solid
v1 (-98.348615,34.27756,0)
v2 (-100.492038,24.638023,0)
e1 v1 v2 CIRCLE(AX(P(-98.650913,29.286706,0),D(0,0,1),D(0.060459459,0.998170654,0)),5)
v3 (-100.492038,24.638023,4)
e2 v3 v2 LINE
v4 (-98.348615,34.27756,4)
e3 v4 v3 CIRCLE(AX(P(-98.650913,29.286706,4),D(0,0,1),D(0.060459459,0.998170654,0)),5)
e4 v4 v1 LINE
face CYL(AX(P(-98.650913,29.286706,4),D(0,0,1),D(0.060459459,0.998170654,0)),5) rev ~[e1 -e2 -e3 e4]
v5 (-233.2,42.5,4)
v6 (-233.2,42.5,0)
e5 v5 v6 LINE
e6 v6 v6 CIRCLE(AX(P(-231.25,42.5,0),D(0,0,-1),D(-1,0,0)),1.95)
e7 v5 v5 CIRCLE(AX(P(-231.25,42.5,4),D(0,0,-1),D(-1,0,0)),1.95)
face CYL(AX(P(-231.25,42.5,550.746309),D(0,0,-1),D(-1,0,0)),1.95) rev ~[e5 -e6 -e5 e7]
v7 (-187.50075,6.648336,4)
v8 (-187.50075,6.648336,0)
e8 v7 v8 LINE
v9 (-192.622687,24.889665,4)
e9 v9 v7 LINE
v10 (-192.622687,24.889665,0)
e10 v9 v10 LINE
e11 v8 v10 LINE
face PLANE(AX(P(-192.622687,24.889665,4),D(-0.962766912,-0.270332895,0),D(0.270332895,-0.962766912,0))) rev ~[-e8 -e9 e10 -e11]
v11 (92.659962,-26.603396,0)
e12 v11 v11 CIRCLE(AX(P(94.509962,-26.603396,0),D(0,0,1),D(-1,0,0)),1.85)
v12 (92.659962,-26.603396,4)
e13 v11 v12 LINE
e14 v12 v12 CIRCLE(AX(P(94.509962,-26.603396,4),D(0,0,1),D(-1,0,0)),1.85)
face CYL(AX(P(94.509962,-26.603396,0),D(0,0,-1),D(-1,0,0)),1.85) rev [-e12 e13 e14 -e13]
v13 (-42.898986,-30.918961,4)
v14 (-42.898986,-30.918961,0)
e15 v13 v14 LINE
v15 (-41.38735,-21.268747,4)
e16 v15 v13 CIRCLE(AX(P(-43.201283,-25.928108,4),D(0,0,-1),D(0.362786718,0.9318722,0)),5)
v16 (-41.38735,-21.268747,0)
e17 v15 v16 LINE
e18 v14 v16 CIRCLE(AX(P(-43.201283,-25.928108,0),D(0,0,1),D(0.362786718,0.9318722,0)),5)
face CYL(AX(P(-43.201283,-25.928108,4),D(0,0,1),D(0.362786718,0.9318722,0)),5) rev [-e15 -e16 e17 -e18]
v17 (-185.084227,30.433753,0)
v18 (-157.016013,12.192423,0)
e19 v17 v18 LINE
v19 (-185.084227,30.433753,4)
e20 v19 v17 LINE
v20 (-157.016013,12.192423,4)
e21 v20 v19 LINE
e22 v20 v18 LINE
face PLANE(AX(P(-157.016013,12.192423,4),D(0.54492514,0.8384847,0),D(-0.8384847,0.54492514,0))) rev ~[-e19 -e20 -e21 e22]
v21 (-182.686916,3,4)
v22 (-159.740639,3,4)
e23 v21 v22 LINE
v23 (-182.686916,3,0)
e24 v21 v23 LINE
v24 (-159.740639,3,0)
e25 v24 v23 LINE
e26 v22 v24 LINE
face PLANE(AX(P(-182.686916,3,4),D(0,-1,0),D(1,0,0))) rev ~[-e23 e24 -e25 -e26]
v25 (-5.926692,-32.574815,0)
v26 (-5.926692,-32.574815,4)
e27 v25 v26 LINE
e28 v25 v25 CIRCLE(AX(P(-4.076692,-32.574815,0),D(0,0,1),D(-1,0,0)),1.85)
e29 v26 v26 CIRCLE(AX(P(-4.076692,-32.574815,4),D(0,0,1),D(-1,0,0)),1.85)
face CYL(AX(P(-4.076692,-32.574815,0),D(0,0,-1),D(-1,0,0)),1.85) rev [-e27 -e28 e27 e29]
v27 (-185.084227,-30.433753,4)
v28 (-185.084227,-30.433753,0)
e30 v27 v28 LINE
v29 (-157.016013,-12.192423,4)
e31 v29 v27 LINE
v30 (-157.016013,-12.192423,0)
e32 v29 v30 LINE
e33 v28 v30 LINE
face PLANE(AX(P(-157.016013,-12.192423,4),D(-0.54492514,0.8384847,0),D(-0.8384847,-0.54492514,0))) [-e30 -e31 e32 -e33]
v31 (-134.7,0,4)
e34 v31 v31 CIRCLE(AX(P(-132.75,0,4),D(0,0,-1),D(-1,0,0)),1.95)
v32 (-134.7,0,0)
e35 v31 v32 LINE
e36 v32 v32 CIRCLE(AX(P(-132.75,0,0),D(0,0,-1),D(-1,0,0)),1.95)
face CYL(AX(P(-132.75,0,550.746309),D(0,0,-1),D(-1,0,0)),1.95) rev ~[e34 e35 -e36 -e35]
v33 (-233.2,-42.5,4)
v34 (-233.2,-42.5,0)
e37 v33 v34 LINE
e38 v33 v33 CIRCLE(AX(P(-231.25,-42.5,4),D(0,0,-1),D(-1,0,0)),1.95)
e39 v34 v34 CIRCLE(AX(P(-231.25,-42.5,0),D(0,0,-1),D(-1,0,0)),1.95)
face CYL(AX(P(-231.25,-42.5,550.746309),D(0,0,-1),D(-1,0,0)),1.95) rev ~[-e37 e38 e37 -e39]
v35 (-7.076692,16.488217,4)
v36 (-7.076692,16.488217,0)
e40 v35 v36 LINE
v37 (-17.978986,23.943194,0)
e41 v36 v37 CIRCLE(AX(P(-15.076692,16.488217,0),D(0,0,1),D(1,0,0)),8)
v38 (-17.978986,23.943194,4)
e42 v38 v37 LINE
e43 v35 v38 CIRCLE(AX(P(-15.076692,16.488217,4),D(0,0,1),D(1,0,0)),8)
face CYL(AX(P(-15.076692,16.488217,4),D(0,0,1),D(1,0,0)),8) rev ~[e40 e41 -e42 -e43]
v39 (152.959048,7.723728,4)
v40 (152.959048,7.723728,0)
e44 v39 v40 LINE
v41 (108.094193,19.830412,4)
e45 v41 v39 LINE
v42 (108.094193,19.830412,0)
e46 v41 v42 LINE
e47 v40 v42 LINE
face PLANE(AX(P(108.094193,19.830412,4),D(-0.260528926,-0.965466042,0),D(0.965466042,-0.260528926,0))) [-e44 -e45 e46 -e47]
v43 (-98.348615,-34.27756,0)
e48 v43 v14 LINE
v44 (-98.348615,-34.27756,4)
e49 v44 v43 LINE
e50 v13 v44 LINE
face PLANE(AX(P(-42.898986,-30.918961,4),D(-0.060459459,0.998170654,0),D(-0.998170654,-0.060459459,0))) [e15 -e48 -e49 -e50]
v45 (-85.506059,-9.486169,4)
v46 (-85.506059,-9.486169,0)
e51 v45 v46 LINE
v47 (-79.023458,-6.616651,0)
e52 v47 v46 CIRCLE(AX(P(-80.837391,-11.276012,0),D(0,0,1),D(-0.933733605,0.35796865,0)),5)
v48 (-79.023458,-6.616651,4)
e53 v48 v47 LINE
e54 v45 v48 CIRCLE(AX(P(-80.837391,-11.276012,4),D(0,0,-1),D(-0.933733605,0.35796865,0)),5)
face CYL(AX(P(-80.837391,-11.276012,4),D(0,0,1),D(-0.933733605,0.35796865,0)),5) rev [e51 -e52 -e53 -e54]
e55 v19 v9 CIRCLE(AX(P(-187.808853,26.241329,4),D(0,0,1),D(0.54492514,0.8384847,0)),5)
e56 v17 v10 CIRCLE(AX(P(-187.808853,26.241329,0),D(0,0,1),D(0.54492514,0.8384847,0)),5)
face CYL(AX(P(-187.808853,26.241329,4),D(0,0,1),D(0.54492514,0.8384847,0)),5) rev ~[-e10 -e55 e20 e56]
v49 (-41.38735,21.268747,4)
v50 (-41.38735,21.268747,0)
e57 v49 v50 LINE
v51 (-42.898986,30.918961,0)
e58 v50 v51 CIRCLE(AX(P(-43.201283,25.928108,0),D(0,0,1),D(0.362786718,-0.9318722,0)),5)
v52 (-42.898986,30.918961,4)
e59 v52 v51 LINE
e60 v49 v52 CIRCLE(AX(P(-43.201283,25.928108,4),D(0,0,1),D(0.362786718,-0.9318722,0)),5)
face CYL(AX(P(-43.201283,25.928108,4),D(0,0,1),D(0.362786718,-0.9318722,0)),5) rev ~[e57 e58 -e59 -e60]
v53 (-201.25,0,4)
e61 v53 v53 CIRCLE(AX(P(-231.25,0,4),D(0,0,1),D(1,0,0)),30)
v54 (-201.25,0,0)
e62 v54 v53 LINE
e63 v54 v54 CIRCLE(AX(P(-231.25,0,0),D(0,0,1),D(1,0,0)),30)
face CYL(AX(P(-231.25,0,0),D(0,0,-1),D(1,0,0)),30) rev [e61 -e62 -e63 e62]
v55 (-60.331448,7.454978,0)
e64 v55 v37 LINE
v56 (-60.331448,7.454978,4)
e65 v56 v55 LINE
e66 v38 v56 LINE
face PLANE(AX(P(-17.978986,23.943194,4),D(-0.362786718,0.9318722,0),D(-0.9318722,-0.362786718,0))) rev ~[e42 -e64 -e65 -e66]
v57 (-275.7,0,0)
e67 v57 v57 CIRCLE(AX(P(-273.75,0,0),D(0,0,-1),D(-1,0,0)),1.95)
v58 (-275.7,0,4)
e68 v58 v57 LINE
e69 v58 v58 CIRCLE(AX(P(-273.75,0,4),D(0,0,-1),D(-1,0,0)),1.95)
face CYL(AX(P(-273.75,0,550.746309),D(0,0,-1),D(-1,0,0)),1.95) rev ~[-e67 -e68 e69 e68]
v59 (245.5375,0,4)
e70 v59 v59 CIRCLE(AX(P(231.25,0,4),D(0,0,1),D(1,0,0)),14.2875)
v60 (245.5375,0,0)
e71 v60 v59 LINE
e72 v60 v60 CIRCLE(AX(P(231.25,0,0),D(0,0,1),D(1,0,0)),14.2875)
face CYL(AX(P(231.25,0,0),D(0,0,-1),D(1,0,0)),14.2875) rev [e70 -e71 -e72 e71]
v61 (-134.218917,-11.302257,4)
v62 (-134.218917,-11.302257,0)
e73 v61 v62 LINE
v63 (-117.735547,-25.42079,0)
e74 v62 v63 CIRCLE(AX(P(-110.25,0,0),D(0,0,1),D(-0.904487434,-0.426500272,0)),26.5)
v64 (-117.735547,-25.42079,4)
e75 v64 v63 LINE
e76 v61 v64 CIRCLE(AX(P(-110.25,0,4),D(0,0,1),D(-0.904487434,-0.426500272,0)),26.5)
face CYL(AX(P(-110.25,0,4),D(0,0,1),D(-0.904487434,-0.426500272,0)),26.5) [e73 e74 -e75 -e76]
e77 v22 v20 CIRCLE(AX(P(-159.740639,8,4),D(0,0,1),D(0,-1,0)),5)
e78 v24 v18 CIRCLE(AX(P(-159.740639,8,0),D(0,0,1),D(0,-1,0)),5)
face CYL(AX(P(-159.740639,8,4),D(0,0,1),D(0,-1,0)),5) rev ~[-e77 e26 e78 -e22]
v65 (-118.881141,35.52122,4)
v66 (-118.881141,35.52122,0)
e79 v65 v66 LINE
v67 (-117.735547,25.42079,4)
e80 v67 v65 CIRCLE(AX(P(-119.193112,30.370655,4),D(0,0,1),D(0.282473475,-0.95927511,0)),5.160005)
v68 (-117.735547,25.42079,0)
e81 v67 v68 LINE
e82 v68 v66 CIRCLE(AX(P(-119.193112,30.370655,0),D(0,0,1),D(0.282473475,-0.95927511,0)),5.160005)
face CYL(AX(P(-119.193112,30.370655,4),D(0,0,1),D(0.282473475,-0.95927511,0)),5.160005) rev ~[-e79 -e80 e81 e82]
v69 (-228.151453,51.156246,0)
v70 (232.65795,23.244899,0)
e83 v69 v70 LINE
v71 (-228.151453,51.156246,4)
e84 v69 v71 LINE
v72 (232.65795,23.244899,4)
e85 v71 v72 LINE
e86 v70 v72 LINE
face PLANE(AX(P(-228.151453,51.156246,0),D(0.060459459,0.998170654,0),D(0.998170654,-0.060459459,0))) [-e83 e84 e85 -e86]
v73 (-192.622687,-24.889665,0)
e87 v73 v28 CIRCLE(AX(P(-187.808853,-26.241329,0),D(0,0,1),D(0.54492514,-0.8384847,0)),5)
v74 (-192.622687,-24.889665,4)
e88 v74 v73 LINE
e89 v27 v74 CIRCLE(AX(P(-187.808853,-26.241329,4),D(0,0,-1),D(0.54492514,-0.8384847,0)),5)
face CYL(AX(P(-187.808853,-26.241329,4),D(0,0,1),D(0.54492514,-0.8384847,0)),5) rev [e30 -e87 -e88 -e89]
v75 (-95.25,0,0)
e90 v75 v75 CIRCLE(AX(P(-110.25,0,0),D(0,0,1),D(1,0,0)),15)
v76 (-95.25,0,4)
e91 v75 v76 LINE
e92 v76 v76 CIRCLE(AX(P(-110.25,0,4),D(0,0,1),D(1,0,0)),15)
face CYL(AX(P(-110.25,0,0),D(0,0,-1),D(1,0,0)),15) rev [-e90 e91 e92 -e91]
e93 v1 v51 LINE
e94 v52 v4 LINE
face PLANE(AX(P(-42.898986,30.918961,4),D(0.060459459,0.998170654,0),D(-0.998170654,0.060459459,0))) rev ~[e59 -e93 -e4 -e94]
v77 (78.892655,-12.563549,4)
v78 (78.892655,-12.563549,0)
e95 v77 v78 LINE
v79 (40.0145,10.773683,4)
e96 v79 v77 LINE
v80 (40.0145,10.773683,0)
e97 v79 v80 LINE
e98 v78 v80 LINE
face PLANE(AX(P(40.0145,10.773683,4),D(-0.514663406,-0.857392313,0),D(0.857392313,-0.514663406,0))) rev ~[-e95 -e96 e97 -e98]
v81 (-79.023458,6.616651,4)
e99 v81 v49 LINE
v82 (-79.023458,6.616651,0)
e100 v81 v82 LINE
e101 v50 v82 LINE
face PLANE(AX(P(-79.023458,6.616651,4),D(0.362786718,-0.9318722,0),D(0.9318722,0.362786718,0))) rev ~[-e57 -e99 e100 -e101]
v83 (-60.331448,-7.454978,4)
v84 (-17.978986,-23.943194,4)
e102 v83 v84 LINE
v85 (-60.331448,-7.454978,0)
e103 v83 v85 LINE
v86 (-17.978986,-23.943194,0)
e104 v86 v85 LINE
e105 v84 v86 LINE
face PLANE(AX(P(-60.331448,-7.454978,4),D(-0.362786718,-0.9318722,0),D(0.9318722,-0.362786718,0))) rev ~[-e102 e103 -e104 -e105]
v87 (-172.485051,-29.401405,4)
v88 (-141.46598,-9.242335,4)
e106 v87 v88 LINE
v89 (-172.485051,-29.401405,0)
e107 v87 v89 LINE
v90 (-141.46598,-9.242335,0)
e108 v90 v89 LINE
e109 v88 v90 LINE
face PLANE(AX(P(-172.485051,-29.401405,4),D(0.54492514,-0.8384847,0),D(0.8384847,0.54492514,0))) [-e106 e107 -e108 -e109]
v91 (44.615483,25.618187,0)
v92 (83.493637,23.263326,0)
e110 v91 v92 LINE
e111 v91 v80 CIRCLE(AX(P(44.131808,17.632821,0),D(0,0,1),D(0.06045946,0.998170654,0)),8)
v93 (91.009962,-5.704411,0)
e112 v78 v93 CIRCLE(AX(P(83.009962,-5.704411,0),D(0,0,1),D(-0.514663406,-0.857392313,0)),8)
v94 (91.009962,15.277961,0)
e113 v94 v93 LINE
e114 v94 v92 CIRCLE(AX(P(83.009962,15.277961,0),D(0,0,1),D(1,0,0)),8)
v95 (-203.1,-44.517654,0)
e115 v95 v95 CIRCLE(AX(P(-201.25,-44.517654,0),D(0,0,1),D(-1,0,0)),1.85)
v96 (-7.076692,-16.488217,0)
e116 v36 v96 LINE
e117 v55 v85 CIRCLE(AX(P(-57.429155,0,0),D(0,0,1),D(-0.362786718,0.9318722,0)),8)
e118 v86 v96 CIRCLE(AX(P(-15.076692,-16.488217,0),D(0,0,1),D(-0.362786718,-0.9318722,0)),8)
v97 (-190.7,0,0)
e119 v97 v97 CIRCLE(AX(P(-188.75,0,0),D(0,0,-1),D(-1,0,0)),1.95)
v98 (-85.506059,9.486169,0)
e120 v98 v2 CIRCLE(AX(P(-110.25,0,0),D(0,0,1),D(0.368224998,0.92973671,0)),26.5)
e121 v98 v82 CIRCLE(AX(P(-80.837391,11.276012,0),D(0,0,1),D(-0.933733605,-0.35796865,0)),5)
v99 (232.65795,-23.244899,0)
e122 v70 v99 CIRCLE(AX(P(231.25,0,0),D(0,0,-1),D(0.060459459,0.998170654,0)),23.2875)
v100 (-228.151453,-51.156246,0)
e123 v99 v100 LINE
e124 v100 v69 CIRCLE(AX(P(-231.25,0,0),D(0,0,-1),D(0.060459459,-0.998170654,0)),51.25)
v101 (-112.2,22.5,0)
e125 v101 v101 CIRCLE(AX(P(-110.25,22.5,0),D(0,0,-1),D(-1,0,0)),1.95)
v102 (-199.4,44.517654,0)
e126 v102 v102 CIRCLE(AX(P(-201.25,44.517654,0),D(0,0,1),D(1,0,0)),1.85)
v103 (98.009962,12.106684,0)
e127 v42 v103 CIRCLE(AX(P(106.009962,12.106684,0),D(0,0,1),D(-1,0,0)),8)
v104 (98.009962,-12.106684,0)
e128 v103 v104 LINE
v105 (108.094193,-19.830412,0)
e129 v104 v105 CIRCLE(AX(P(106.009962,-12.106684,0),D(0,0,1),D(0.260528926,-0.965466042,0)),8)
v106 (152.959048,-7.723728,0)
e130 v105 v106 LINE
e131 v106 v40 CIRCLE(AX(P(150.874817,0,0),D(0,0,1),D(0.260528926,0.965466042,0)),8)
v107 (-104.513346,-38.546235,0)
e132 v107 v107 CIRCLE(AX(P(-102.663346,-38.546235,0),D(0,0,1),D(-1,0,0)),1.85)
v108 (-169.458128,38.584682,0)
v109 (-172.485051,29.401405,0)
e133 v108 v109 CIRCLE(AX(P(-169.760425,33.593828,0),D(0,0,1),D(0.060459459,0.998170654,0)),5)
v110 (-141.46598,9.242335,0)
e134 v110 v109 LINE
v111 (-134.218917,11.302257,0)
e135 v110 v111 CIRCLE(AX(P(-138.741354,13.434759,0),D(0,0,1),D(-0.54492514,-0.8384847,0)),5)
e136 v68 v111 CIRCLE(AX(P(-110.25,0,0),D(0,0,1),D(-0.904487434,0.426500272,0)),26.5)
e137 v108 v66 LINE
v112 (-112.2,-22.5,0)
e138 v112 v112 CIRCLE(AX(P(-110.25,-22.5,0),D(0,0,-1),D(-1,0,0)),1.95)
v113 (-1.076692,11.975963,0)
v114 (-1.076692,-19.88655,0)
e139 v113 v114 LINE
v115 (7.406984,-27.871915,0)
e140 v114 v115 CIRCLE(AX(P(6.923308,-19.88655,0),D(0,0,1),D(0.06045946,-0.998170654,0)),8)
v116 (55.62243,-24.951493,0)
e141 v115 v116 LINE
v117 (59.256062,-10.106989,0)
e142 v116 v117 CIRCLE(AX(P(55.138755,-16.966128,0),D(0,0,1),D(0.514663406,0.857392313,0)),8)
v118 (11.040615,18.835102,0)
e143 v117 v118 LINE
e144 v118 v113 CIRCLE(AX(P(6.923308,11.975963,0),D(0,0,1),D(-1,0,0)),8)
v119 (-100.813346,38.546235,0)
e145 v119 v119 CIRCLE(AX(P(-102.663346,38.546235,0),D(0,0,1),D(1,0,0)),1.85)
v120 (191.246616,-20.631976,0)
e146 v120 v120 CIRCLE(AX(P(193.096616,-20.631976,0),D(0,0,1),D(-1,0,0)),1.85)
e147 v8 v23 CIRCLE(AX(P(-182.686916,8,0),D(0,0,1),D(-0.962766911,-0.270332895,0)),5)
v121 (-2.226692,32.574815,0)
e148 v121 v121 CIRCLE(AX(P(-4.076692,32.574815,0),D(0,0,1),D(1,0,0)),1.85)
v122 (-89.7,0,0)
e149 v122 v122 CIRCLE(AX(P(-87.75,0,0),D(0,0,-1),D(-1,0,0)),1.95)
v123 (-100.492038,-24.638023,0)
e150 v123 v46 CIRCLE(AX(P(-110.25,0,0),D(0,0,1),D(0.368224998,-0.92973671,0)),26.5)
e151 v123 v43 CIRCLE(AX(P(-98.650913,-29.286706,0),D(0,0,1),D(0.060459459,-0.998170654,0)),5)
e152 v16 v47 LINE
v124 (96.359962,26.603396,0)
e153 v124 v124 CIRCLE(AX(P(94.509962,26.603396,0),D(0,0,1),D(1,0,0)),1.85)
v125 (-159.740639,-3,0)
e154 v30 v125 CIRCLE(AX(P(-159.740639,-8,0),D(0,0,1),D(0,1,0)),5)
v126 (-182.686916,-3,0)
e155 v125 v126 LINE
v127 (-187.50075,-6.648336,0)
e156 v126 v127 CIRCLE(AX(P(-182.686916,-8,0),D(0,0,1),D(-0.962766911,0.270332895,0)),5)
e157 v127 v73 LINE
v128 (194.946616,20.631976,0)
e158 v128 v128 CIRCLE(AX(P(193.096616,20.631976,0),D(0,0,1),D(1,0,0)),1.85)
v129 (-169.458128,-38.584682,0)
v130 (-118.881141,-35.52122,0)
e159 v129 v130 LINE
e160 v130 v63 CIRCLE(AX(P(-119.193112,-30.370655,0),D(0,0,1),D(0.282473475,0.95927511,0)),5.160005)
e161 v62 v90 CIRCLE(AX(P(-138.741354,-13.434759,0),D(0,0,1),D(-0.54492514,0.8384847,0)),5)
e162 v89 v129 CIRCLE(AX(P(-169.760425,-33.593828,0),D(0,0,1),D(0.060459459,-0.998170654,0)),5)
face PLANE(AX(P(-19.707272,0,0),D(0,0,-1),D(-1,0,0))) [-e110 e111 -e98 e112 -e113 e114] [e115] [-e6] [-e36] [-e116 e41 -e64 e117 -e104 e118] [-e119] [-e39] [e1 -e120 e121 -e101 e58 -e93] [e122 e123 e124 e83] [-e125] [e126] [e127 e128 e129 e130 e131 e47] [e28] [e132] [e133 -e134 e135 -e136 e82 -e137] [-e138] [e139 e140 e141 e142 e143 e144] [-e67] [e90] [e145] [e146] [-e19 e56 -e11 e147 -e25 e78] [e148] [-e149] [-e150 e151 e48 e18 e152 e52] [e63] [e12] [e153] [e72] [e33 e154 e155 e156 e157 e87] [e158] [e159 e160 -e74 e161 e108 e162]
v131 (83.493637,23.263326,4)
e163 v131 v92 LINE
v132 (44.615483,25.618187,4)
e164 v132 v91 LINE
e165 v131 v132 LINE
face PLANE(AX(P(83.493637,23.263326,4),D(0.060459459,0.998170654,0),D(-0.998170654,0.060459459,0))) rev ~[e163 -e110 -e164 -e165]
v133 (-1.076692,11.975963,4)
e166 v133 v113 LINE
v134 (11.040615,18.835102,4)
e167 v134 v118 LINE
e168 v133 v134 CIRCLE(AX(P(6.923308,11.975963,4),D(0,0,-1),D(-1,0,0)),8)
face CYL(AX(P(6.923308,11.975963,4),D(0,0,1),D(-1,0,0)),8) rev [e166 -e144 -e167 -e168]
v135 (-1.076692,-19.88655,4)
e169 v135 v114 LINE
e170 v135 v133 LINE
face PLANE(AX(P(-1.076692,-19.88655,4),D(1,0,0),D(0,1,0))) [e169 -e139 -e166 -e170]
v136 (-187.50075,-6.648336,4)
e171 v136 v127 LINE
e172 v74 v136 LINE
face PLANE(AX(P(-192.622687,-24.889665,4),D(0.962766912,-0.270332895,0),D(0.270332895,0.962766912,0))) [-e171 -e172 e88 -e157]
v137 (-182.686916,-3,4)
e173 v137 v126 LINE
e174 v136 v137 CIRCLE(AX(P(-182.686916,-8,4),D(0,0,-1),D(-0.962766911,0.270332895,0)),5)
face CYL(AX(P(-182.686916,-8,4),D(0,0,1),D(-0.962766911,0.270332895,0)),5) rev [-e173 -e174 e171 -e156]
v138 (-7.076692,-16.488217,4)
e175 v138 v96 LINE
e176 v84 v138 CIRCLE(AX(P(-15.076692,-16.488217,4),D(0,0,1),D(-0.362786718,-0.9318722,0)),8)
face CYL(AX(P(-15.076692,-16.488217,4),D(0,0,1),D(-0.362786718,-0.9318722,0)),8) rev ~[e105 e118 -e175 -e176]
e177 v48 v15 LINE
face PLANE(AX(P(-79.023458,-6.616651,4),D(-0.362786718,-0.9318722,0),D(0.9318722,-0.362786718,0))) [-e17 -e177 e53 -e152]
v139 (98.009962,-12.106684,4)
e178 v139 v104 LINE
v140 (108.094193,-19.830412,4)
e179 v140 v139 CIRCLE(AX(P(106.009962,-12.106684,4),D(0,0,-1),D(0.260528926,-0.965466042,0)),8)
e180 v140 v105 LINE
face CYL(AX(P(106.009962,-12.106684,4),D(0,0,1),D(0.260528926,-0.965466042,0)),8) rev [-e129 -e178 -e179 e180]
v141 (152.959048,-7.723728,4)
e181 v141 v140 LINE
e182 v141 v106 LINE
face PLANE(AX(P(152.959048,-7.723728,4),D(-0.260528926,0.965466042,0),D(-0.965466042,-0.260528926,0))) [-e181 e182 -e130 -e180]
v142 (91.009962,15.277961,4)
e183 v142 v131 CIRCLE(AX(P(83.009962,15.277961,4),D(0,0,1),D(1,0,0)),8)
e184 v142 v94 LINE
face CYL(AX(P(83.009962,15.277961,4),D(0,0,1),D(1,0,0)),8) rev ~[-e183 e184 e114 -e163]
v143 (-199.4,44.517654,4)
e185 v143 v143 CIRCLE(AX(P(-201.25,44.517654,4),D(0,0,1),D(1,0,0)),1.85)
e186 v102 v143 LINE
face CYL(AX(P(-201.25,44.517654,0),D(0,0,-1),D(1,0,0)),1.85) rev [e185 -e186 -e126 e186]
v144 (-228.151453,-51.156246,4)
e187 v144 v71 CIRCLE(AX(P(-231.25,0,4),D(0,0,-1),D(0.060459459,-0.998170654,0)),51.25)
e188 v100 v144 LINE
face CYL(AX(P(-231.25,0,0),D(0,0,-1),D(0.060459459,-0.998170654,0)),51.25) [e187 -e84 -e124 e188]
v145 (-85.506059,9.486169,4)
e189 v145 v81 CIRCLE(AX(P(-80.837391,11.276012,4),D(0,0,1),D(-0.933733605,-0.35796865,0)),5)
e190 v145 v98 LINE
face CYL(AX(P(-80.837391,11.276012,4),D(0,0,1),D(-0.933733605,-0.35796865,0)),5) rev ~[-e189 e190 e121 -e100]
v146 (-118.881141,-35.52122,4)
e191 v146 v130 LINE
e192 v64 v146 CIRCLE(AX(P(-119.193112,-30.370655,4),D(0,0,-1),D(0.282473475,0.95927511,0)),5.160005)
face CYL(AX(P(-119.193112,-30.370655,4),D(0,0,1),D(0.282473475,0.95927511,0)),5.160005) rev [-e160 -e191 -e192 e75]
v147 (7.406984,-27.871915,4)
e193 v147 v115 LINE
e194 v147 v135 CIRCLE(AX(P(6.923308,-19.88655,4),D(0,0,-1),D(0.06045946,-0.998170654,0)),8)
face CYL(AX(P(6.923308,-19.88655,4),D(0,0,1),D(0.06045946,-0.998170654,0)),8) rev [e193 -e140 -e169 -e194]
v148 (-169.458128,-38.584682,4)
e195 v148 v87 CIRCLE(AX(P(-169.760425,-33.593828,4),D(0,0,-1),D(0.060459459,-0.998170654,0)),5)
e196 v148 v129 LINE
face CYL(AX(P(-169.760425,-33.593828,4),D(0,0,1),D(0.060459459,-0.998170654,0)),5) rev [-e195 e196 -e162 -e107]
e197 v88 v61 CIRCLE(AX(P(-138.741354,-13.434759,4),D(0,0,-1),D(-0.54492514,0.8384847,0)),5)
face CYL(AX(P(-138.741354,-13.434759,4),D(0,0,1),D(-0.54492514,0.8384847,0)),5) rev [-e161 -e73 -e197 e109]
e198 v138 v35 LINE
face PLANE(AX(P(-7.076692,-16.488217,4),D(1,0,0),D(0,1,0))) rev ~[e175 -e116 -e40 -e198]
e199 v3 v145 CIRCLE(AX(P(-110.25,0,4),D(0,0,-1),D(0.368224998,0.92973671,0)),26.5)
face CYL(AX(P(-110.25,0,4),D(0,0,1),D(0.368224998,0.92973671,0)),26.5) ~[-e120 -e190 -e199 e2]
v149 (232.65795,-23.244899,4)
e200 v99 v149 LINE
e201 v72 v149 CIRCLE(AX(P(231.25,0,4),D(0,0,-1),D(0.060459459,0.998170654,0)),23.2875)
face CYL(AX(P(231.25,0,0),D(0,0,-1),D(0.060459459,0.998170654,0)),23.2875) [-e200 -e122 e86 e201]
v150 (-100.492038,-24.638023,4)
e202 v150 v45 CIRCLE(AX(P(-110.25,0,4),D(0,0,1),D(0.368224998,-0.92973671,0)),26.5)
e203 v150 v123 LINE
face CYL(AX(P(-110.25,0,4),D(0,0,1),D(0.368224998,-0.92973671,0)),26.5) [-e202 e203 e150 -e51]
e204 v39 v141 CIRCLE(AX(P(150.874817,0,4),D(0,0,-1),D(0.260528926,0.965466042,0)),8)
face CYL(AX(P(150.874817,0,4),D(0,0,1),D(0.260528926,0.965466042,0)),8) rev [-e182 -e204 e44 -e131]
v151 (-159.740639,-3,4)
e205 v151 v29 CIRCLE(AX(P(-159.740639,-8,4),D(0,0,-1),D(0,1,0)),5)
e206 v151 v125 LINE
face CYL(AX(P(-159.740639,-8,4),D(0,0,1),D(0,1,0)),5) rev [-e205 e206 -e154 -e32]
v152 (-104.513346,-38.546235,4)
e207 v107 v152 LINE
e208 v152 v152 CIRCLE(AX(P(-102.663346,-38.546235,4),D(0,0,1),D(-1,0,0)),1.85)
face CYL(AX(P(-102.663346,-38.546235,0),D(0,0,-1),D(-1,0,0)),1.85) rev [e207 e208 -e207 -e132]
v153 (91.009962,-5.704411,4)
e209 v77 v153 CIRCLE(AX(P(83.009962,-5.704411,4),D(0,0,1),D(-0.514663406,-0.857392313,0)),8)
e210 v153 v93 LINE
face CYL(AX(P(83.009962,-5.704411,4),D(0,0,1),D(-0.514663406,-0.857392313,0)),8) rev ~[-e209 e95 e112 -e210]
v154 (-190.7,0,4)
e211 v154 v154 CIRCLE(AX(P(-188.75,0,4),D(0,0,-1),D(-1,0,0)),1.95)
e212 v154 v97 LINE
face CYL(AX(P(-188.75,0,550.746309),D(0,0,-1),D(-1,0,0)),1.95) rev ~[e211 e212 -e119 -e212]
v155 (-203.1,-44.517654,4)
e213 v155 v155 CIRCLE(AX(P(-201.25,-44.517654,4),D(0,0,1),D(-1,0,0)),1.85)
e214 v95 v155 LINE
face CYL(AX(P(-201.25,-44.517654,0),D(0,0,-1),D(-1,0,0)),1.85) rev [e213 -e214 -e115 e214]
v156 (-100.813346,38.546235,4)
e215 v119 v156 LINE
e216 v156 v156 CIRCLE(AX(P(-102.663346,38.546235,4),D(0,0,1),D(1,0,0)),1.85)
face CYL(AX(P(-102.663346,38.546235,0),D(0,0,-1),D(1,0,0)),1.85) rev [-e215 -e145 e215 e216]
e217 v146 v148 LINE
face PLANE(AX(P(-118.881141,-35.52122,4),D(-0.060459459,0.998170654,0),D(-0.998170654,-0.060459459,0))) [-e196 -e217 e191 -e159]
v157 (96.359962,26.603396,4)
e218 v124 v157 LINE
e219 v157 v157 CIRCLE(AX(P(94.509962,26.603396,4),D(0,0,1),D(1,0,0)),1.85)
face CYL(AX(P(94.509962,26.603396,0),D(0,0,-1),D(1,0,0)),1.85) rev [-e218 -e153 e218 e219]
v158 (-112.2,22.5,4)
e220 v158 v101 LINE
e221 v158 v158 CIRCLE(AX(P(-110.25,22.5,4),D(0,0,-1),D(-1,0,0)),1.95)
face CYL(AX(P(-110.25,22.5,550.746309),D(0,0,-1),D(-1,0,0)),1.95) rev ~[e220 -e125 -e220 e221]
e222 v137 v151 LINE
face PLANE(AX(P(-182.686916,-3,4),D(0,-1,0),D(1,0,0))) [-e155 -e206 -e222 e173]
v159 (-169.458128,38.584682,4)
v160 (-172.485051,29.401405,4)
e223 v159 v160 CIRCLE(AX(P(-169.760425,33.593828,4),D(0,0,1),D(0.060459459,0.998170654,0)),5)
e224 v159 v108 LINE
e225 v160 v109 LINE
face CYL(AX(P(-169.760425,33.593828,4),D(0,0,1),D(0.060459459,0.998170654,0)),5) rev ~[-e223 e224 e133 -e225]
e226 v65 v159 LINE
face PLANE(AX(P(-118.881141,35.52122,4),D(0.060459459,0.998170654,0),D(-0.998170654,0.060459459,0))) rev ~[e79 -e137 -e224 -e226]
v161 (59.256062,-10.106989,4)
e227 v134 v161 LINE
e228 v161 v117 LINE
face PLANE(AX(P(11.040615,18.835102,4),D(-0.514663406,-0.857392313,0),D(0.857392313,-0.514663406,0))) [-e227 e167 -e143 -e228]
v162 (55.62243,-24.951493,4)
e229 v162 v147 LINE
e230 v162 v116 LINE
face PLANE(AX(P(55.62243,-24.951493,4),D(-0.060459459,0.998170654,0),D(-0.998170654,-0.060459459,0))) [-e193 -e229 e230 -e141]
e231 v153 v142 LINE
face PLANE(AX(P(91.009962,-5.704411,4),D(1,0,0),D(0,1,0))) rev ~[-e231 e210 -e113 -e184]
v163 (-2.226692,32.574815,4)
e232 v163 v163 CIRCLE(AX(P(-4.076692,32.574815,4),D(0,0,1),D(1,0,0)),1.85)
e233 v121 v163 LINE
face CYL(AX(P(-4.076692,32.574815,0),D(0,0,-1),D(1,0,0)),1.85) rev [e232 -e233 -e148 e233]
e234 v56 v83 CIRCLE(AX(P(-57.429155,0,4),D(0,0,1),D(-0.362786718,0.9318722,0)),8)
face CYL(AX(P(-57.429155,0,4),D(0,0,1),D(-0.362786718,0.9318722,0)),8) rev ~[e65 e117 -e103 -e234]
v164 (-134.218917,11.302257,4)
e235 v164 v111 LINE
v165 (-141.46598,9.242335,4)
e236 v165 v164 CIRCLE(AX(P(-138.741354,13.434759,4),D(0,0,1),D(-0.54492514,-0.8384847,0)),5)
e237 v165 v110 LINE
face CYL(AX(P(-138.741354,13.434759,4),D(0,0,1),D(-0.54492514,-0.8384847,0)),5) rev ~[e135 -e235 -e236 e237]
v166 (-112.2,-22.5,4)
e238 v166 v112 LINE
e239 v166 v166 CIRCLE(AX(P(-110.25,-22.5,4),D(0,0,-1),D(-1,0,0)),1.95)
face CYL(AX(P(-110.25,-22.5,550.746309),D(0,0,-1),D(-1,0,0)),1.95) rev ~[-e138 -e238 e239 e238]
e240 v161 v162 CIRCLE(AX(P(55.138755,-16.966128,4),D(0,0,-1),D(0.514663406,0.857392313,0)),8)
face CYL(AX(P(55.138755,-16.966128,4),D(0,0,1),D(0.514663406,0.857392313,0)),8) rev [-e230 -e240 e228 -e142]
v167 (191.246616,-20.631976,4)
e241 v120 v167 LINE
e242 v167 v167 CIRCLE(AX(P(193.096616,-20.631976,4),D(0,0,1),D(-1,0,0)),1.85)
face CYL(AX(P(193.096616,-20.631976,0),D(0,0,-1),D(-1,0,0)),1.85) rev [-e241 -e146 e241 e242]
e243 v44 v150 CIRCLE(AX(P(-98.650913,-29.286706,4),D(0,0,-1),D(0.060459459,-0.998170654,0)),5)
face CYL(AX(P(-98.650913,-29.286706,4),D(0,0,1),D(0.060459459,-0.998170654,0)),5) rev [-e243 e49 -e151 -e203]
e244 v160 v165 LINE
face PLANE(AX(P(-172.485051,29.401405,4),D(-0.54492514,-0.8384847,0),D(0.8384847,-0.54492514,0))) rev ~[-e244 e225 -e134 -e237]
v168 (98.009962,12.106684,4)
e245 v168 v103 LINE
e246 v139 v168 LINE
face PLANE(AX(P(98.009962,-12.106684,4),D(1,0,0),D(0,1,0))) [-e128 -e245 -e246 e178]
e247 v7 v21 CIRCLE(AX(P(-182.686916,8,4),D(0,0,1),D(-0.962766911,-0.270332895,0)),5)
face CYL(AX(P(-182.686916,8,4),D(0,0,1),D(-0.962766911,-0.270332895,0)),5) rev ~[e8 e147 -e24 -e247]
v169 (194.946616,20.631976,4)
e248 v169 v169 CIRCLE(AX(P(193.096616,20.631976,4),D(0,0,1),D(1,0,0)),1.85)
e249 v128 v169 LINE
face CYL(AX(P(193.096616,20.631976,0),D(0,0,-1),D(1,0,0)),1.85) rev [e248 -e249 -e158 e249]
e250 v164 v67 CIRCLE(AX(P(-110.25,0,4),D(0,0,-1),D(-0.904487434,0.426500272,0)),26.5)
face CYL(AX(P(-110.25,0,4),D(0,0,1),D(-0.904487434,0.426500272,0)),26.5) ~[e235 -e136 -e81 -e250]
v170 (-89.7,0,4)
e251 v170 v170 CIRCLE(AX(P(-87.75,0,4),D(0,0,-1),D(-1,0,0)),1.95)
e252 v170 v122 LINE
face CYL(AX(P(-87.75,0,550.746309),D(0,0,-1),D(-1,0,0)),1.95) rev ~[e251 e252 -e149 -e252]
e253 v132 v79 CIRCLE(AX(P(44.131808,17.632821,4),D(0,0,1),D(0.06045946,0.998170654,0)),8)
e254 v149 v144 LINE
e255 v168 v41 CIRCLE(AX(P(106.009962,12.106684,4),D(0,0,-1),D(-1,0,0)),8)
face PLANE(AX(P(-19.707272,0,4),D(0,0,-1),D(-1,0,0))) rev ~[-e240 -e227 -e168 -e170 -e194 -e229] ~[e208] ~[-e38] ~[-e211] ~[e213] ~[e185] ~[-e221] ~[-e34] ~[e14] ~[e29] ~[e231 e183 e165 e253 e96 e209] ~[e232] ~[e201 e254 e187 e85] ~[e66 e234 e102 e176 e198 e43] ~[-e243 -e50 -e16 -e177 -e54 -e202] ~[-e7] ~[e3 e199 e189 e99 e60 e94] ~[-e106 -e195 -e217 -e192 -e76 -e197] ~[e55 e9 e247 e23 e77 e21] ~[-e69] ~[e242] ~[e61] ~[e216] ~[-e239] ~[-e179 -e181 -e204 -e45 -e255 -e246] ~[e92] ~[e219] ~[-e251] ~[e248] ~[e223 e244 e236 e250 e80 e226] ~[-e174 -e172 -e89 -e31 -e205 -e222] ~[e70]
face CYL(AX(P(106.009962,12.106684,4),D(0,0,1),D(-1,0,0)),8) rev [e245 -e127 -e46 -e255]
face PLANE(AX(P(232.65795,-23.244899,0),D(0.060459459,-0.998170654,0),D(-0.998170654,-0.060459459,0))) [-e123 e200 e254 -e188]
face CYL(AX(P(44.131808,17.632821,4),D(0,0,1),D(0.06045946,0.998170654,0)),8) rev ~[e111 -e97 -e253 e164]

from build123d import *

# Parameters (mm, degrees)
SKETCH1_R              = 14.2875
SKETCH1_R_2            = 30
SKETCH1_R_3            = 15
SKETCH1_R_4            = 1.85
BOSS_EXTRUDE1_DEPTH    = 4
M3_5_CLEARANCE_HOLE1_D = 3.9
CUT_EXTRUDE1_DEPTH     = 10


with BuildPart() as part:
    # Sketch1 → Boss-Extrude1 (new body)
    with BuildSketch(Plane.XY):
        with BuildLine():
            Line((-228.151452703, 51.156245998), (232.657949662, 23.244899096))
            ThreePointArc((232.657949662, 23.244899096), (254.5375, 0), (232.657949662, -23.244899096))
            Line((232.657949662, -23.244899096), (-228.151452703, -51.156245998))
            ThreePointArc((-228.151452703, -51.156245998), (-282.5, 0), (-228.151452703, 51.156245998))
        make_face()
        with Locations((231.25, 0)):
            Circle(SKETCH1_R, mode=Mode.SUBTRACT)
        with Locations((-231.25, 0)):
            Circle(SKETCH1_R_2, mode=Mode.SUBTRACT)
        with Locations((-110.25, 0)):
            Circle(SKETCH1_R_3, mode=Mode.SUBTRACT)
        with Locations((-201.25, 44.517654426)):
            Circle(SKETCH1_R_4, mode=Mode.SUBTRACT)
        with Locations((-102.663346073, 38.546234825)):
            Circle(SKETCH1_R_4, mode=Mode.SUBTRACT)
        with Locations((-4.076692145, 32.574815224)):
            Circle(SKETCH1_R_4, mode=Mode.SUBTRACT)
        with Locations((94.509961782, 26.603395622)):
            Circle(SKETCH1_R_4, mode=Mode.SUBTRACT)
        with Locations((193.096615709, 20.631976021)):
            Circle(SKETCH1_R_4, mode=Mode.SUBTRACT)
        with Locations(Location((193.096615709, -20.631976021, 0), (0, 0, 180))):
            Circle(SKETCH1_R_4, mode=Mode.SUBTRACT)
        with Locations(Location((94.509961782, -26.603395622, 0), (0, 0, 180))):
            Circle(SKETCH1_R_4, mode=Mode.SUBTRACT)
        with Locations(Location((-4.076692145, -32.574815224, 0), (0, 0, 180))):
            Circle(SKETCH1_R_4, mode=Mode.SUBTRACT)
        with Locations(Location((-102.663346073, -38.546234825, 0), (0, 0, 180))):
            Circle(SKETCH1_R_4, mode=Mode.SUBTRACT)
        with Locations(Location((-201.25, -44.517654426, 0), (0, 0, 180))):
            Circle(SKETCH1_R_4, mode=Mode.SUBTRACT)
    extrude(amount=BOSS_EXTRUDE1_DEPTH)

    # M3.5 Clearance Hole1 (through all)
    with Locations(Plane.XY.offset(4)):
        with Locations((-231.25, 42.5), (-188.75, 0), (-132.75, 0), (-110.25, 22.5), (-87.75, 0), (-110.25, -22.5), (-273.75, 0), (-231.25, -42.5)):
            Hole(M3_5_CLEARANCE_HOLE1_D / 2)

    # Sketch7 → Cut-Extrude1 (cut)
    with BuildSketch(Plane.XY.offset(4)):
        with BuildLine():
            Line((108.094193191, 19.830412487), (152.959047941, 7.723728338))
            ThreePointArc((152.959047941, 7.723728338), (158.874816531, 0), (152.959047941, -7.723728338))
            Line((152.959047941, -7.723728338), (108.094193191, -19.830412487))
            ThreePointArc((108.094193191, -19.830412487), (101.145491167, -18.457819925), (98.009961782, -12.106684149))
            Line((98.009961782, -12.106684149), (98.009961782, 12.106684149))
            ThreePointArc((98.009961782, 12.106684149), (101.145491167, 18.457819925), (108.094193191, 19.830412487))
        make_face()
        with BuildLine():
            Line((91.009961782, -5.704410534), (91.009961782, 15.277961264))
            ThreePointArc((91.009961782, 15.277961264), (88.835311789, 20.761144399), (83.493637458, 23.263326493))
            Line((83.493637458, 23.263326493), (44.615483399, 25.618186527))
            ThreePointArc((44.615483399, 25.618186527), (36.490430728, 20.001229544), (40.014500476, 10.773682793))
            Line((40.014500476, 10.773682793), (78.892654535, -12.563549039))
            ThreePointArc((78.892654535, -12.563549039), (86.950871704, -12.666395092), (91.009961782, -5.704410534))
        make_face()
        with BuildLine():
            Line((11.040615102, 18.835101612), (59.256061992, -10.106989112))
            ThreePointArc((59.256061992, -10.106989112), (62.909345697, -18.868209702), (55.62243042, -24.951492846))
            Line((55.62243042, -24.951492846), (7.40698353, -27.871915166))
            ThreePointArc((7.40698353, -27.871915166), (1.440124719, -25.711899944), (-1.076692145, -19.886549937))
            Line((-1.076692145, -19.886549937), (-1.076692145, 11.975963107))
            ThreePointArc((-1.076692145, 11.975963107), (2.982397933, 18.937947665), (11.040615102, 18.835101612))
        make_face()
        with BuildLine():
            Line((-7.076692145, -16.488216766), (-7.076692145, 16.488216766))
            ThreePointArc((-7.076692145, 16.488216766), (-10.56107203, 23.091941092), (-17.978985888, 23.943194367))
            Line((-17.978985888, 23.943194367), (-60.331448304, 7.454977601))
            ThreePointArc((-60.331448304, 7.454977601), (-65.429154561, 0), (-60.331448304, -7.454977601))
            Line((-60.331448304, -7.454977601), (-17.978985888, -23.943194367))
            ThreePointArc((-17.978985888, -23.943194367), (-10.56107203, -23.091941092), (-7.076692145, -16.488216766))
        make_face()
        with BuildLine():
            Line((-79.023457852, 6.616651493), (-41.387349534, 21.268746715))
            ThreePointArc((-41.387349534, 21.268746715), (-38.261519247, 26.701886011), (-42.898985826, 30.918960984))
            Line((-42.898985826, 30.918960984), (-98.34861526, 34.277559647))
            ThreePointArc((-98.34861526, 34.277559647), (-103.531708107, 30.371987358), (-100.492037548, 24.638022826))
            ThreePointArc((-100.492037548, 24.638022826), (-91.408821848, 18.634913625), (-85.506059466, 9.486169241))
            ThreePointArc((-85.506059466, 9.486169241), (-82.861226958, 6.703913435), (-79.023457852, 6.616651493))
        make_face()
        with BuildLine():
            Line((-172.485050673, 29.401404781), (-141.465979865, 9.242335075))
            ThreePointArc((-141.465979865, 9.242335075), (-137.374294793, 8.625273291), (-134.218916995, 11.302257212))
            ThreePointArc((-134.218916995, 11.302257212), (-127.488882583, 20.126373923), (-117.7355471, 25.420790401))
            ThreePointArc((-117.7355471, 25.420790401), (-114.065979457, 30.952175342), (-118.881140508, 35.52122011))
            Line((-118.881140508, 35.52122011), (-169.458127675, 38.584681548))
            ThreePointArc((-169.458127675, 38.584681548), (-174.509115504, 35.159056133), (-172.485050673, 29.401404781))
        make_face()
        with BuildLine():
            Line((-192.622687213, 24.889664687), (-187.500750367, 6.648335526))
            ThreePointArc((-187.500750367, 6.648335526), (-185.706988459, 4.01513348), (-182.686915809, 3))
            Line((-182.686915809, 3), (-159.740638738, 3))
            ThreePointArc((-159.740638738, 3), (-154.946782383, 6.579105474), (-157.016013037, 12.192423498))
            Line((-157.016013037, 12.192423498), (-185.084226954, 30.43375266))
            ThreePointArc((-185.084226954, 30.43375266), (-190.771187254, 30.269303059), (-192.622687213, 24.889664687))
        make_face()
        with BuildLine():
            Line((-118.881140508, -35.52122011), (-169.458127675, -38.584681548))
            ThreePointArc((-169.458127675, -38.584681548), (-174.509115504, -35.159056133), (-172.485050673, -29.401404781))
            Line((-172.485050673, -29.401404781), (-141.465979865, -9.242335075))
            ThreePointArc((-141.465979865, -9.242335075), (-137.374294793, -8.625273291), (-134.218916995, -11.302257212))
            ThreePointArc((-134.218916995, -11.302257212), (-127.488882583, -20.126373923), (-117.7355471, -25.420790401))
            ThreePointArc((-117.7355471, -25.420790401), (-114.065979457, -30.952175342), (-118.881140508, -35.52122011))
        make_face()
        with BuildLine():
            Line((-157.016013037, -12.192423498), (-185.084226954, -30.43375266))
            ThreePointArc((-185.084226954, -30.43375266), (-190.771187254, -30.269303059), (-192.622687213, -24.889664687))
            Line((-192.622687213, -24.889664687), (-187.500750367, -6.648335526))
            ThreePointArc((-187.500750367, -6.648335526), (-185.706988459, -4.01513348), (-182.686915809, -3))
            Line((-182.686915809, -3), (-159.740638738, -3))
            ThreePointArc((-159.740638738, -3), (-154.946782383, -6.579105474), (-157.016013037, -12.192423498))
        make_face()
        with BuildLine():
            Line((-42.898985826, -30.918960984), (-98.34861526, -34.277559647))
            ThreePointArc((-98.34861526, -34.277559647), (-103.531708107, -30.371987358), (-100.492037548, -24.638022826))
            ThreePointArc((-100.492037548, -24.638022826), (-91.408821848, -18.634913625), (-85.506059466, -9.486169241))
            ThreePointArc((-85.506059466, -9.486169241), (-82.861226958, -6.703913435), (-79.023457852, -6.616651493))
            Line((-79.023457852, -6.616651493), (-41.387349534, -21.268746715))
            ThreePointArc((-41.387349534, -21.268746715), (-38.261519247, -26.701886011), (-42.898985826, -30.918960984))
        make_face()
    extrude(amount=-CUT_EXTRUDE1_DEPTH, mode=Mode.SUBTRACT)


solid = part.part
